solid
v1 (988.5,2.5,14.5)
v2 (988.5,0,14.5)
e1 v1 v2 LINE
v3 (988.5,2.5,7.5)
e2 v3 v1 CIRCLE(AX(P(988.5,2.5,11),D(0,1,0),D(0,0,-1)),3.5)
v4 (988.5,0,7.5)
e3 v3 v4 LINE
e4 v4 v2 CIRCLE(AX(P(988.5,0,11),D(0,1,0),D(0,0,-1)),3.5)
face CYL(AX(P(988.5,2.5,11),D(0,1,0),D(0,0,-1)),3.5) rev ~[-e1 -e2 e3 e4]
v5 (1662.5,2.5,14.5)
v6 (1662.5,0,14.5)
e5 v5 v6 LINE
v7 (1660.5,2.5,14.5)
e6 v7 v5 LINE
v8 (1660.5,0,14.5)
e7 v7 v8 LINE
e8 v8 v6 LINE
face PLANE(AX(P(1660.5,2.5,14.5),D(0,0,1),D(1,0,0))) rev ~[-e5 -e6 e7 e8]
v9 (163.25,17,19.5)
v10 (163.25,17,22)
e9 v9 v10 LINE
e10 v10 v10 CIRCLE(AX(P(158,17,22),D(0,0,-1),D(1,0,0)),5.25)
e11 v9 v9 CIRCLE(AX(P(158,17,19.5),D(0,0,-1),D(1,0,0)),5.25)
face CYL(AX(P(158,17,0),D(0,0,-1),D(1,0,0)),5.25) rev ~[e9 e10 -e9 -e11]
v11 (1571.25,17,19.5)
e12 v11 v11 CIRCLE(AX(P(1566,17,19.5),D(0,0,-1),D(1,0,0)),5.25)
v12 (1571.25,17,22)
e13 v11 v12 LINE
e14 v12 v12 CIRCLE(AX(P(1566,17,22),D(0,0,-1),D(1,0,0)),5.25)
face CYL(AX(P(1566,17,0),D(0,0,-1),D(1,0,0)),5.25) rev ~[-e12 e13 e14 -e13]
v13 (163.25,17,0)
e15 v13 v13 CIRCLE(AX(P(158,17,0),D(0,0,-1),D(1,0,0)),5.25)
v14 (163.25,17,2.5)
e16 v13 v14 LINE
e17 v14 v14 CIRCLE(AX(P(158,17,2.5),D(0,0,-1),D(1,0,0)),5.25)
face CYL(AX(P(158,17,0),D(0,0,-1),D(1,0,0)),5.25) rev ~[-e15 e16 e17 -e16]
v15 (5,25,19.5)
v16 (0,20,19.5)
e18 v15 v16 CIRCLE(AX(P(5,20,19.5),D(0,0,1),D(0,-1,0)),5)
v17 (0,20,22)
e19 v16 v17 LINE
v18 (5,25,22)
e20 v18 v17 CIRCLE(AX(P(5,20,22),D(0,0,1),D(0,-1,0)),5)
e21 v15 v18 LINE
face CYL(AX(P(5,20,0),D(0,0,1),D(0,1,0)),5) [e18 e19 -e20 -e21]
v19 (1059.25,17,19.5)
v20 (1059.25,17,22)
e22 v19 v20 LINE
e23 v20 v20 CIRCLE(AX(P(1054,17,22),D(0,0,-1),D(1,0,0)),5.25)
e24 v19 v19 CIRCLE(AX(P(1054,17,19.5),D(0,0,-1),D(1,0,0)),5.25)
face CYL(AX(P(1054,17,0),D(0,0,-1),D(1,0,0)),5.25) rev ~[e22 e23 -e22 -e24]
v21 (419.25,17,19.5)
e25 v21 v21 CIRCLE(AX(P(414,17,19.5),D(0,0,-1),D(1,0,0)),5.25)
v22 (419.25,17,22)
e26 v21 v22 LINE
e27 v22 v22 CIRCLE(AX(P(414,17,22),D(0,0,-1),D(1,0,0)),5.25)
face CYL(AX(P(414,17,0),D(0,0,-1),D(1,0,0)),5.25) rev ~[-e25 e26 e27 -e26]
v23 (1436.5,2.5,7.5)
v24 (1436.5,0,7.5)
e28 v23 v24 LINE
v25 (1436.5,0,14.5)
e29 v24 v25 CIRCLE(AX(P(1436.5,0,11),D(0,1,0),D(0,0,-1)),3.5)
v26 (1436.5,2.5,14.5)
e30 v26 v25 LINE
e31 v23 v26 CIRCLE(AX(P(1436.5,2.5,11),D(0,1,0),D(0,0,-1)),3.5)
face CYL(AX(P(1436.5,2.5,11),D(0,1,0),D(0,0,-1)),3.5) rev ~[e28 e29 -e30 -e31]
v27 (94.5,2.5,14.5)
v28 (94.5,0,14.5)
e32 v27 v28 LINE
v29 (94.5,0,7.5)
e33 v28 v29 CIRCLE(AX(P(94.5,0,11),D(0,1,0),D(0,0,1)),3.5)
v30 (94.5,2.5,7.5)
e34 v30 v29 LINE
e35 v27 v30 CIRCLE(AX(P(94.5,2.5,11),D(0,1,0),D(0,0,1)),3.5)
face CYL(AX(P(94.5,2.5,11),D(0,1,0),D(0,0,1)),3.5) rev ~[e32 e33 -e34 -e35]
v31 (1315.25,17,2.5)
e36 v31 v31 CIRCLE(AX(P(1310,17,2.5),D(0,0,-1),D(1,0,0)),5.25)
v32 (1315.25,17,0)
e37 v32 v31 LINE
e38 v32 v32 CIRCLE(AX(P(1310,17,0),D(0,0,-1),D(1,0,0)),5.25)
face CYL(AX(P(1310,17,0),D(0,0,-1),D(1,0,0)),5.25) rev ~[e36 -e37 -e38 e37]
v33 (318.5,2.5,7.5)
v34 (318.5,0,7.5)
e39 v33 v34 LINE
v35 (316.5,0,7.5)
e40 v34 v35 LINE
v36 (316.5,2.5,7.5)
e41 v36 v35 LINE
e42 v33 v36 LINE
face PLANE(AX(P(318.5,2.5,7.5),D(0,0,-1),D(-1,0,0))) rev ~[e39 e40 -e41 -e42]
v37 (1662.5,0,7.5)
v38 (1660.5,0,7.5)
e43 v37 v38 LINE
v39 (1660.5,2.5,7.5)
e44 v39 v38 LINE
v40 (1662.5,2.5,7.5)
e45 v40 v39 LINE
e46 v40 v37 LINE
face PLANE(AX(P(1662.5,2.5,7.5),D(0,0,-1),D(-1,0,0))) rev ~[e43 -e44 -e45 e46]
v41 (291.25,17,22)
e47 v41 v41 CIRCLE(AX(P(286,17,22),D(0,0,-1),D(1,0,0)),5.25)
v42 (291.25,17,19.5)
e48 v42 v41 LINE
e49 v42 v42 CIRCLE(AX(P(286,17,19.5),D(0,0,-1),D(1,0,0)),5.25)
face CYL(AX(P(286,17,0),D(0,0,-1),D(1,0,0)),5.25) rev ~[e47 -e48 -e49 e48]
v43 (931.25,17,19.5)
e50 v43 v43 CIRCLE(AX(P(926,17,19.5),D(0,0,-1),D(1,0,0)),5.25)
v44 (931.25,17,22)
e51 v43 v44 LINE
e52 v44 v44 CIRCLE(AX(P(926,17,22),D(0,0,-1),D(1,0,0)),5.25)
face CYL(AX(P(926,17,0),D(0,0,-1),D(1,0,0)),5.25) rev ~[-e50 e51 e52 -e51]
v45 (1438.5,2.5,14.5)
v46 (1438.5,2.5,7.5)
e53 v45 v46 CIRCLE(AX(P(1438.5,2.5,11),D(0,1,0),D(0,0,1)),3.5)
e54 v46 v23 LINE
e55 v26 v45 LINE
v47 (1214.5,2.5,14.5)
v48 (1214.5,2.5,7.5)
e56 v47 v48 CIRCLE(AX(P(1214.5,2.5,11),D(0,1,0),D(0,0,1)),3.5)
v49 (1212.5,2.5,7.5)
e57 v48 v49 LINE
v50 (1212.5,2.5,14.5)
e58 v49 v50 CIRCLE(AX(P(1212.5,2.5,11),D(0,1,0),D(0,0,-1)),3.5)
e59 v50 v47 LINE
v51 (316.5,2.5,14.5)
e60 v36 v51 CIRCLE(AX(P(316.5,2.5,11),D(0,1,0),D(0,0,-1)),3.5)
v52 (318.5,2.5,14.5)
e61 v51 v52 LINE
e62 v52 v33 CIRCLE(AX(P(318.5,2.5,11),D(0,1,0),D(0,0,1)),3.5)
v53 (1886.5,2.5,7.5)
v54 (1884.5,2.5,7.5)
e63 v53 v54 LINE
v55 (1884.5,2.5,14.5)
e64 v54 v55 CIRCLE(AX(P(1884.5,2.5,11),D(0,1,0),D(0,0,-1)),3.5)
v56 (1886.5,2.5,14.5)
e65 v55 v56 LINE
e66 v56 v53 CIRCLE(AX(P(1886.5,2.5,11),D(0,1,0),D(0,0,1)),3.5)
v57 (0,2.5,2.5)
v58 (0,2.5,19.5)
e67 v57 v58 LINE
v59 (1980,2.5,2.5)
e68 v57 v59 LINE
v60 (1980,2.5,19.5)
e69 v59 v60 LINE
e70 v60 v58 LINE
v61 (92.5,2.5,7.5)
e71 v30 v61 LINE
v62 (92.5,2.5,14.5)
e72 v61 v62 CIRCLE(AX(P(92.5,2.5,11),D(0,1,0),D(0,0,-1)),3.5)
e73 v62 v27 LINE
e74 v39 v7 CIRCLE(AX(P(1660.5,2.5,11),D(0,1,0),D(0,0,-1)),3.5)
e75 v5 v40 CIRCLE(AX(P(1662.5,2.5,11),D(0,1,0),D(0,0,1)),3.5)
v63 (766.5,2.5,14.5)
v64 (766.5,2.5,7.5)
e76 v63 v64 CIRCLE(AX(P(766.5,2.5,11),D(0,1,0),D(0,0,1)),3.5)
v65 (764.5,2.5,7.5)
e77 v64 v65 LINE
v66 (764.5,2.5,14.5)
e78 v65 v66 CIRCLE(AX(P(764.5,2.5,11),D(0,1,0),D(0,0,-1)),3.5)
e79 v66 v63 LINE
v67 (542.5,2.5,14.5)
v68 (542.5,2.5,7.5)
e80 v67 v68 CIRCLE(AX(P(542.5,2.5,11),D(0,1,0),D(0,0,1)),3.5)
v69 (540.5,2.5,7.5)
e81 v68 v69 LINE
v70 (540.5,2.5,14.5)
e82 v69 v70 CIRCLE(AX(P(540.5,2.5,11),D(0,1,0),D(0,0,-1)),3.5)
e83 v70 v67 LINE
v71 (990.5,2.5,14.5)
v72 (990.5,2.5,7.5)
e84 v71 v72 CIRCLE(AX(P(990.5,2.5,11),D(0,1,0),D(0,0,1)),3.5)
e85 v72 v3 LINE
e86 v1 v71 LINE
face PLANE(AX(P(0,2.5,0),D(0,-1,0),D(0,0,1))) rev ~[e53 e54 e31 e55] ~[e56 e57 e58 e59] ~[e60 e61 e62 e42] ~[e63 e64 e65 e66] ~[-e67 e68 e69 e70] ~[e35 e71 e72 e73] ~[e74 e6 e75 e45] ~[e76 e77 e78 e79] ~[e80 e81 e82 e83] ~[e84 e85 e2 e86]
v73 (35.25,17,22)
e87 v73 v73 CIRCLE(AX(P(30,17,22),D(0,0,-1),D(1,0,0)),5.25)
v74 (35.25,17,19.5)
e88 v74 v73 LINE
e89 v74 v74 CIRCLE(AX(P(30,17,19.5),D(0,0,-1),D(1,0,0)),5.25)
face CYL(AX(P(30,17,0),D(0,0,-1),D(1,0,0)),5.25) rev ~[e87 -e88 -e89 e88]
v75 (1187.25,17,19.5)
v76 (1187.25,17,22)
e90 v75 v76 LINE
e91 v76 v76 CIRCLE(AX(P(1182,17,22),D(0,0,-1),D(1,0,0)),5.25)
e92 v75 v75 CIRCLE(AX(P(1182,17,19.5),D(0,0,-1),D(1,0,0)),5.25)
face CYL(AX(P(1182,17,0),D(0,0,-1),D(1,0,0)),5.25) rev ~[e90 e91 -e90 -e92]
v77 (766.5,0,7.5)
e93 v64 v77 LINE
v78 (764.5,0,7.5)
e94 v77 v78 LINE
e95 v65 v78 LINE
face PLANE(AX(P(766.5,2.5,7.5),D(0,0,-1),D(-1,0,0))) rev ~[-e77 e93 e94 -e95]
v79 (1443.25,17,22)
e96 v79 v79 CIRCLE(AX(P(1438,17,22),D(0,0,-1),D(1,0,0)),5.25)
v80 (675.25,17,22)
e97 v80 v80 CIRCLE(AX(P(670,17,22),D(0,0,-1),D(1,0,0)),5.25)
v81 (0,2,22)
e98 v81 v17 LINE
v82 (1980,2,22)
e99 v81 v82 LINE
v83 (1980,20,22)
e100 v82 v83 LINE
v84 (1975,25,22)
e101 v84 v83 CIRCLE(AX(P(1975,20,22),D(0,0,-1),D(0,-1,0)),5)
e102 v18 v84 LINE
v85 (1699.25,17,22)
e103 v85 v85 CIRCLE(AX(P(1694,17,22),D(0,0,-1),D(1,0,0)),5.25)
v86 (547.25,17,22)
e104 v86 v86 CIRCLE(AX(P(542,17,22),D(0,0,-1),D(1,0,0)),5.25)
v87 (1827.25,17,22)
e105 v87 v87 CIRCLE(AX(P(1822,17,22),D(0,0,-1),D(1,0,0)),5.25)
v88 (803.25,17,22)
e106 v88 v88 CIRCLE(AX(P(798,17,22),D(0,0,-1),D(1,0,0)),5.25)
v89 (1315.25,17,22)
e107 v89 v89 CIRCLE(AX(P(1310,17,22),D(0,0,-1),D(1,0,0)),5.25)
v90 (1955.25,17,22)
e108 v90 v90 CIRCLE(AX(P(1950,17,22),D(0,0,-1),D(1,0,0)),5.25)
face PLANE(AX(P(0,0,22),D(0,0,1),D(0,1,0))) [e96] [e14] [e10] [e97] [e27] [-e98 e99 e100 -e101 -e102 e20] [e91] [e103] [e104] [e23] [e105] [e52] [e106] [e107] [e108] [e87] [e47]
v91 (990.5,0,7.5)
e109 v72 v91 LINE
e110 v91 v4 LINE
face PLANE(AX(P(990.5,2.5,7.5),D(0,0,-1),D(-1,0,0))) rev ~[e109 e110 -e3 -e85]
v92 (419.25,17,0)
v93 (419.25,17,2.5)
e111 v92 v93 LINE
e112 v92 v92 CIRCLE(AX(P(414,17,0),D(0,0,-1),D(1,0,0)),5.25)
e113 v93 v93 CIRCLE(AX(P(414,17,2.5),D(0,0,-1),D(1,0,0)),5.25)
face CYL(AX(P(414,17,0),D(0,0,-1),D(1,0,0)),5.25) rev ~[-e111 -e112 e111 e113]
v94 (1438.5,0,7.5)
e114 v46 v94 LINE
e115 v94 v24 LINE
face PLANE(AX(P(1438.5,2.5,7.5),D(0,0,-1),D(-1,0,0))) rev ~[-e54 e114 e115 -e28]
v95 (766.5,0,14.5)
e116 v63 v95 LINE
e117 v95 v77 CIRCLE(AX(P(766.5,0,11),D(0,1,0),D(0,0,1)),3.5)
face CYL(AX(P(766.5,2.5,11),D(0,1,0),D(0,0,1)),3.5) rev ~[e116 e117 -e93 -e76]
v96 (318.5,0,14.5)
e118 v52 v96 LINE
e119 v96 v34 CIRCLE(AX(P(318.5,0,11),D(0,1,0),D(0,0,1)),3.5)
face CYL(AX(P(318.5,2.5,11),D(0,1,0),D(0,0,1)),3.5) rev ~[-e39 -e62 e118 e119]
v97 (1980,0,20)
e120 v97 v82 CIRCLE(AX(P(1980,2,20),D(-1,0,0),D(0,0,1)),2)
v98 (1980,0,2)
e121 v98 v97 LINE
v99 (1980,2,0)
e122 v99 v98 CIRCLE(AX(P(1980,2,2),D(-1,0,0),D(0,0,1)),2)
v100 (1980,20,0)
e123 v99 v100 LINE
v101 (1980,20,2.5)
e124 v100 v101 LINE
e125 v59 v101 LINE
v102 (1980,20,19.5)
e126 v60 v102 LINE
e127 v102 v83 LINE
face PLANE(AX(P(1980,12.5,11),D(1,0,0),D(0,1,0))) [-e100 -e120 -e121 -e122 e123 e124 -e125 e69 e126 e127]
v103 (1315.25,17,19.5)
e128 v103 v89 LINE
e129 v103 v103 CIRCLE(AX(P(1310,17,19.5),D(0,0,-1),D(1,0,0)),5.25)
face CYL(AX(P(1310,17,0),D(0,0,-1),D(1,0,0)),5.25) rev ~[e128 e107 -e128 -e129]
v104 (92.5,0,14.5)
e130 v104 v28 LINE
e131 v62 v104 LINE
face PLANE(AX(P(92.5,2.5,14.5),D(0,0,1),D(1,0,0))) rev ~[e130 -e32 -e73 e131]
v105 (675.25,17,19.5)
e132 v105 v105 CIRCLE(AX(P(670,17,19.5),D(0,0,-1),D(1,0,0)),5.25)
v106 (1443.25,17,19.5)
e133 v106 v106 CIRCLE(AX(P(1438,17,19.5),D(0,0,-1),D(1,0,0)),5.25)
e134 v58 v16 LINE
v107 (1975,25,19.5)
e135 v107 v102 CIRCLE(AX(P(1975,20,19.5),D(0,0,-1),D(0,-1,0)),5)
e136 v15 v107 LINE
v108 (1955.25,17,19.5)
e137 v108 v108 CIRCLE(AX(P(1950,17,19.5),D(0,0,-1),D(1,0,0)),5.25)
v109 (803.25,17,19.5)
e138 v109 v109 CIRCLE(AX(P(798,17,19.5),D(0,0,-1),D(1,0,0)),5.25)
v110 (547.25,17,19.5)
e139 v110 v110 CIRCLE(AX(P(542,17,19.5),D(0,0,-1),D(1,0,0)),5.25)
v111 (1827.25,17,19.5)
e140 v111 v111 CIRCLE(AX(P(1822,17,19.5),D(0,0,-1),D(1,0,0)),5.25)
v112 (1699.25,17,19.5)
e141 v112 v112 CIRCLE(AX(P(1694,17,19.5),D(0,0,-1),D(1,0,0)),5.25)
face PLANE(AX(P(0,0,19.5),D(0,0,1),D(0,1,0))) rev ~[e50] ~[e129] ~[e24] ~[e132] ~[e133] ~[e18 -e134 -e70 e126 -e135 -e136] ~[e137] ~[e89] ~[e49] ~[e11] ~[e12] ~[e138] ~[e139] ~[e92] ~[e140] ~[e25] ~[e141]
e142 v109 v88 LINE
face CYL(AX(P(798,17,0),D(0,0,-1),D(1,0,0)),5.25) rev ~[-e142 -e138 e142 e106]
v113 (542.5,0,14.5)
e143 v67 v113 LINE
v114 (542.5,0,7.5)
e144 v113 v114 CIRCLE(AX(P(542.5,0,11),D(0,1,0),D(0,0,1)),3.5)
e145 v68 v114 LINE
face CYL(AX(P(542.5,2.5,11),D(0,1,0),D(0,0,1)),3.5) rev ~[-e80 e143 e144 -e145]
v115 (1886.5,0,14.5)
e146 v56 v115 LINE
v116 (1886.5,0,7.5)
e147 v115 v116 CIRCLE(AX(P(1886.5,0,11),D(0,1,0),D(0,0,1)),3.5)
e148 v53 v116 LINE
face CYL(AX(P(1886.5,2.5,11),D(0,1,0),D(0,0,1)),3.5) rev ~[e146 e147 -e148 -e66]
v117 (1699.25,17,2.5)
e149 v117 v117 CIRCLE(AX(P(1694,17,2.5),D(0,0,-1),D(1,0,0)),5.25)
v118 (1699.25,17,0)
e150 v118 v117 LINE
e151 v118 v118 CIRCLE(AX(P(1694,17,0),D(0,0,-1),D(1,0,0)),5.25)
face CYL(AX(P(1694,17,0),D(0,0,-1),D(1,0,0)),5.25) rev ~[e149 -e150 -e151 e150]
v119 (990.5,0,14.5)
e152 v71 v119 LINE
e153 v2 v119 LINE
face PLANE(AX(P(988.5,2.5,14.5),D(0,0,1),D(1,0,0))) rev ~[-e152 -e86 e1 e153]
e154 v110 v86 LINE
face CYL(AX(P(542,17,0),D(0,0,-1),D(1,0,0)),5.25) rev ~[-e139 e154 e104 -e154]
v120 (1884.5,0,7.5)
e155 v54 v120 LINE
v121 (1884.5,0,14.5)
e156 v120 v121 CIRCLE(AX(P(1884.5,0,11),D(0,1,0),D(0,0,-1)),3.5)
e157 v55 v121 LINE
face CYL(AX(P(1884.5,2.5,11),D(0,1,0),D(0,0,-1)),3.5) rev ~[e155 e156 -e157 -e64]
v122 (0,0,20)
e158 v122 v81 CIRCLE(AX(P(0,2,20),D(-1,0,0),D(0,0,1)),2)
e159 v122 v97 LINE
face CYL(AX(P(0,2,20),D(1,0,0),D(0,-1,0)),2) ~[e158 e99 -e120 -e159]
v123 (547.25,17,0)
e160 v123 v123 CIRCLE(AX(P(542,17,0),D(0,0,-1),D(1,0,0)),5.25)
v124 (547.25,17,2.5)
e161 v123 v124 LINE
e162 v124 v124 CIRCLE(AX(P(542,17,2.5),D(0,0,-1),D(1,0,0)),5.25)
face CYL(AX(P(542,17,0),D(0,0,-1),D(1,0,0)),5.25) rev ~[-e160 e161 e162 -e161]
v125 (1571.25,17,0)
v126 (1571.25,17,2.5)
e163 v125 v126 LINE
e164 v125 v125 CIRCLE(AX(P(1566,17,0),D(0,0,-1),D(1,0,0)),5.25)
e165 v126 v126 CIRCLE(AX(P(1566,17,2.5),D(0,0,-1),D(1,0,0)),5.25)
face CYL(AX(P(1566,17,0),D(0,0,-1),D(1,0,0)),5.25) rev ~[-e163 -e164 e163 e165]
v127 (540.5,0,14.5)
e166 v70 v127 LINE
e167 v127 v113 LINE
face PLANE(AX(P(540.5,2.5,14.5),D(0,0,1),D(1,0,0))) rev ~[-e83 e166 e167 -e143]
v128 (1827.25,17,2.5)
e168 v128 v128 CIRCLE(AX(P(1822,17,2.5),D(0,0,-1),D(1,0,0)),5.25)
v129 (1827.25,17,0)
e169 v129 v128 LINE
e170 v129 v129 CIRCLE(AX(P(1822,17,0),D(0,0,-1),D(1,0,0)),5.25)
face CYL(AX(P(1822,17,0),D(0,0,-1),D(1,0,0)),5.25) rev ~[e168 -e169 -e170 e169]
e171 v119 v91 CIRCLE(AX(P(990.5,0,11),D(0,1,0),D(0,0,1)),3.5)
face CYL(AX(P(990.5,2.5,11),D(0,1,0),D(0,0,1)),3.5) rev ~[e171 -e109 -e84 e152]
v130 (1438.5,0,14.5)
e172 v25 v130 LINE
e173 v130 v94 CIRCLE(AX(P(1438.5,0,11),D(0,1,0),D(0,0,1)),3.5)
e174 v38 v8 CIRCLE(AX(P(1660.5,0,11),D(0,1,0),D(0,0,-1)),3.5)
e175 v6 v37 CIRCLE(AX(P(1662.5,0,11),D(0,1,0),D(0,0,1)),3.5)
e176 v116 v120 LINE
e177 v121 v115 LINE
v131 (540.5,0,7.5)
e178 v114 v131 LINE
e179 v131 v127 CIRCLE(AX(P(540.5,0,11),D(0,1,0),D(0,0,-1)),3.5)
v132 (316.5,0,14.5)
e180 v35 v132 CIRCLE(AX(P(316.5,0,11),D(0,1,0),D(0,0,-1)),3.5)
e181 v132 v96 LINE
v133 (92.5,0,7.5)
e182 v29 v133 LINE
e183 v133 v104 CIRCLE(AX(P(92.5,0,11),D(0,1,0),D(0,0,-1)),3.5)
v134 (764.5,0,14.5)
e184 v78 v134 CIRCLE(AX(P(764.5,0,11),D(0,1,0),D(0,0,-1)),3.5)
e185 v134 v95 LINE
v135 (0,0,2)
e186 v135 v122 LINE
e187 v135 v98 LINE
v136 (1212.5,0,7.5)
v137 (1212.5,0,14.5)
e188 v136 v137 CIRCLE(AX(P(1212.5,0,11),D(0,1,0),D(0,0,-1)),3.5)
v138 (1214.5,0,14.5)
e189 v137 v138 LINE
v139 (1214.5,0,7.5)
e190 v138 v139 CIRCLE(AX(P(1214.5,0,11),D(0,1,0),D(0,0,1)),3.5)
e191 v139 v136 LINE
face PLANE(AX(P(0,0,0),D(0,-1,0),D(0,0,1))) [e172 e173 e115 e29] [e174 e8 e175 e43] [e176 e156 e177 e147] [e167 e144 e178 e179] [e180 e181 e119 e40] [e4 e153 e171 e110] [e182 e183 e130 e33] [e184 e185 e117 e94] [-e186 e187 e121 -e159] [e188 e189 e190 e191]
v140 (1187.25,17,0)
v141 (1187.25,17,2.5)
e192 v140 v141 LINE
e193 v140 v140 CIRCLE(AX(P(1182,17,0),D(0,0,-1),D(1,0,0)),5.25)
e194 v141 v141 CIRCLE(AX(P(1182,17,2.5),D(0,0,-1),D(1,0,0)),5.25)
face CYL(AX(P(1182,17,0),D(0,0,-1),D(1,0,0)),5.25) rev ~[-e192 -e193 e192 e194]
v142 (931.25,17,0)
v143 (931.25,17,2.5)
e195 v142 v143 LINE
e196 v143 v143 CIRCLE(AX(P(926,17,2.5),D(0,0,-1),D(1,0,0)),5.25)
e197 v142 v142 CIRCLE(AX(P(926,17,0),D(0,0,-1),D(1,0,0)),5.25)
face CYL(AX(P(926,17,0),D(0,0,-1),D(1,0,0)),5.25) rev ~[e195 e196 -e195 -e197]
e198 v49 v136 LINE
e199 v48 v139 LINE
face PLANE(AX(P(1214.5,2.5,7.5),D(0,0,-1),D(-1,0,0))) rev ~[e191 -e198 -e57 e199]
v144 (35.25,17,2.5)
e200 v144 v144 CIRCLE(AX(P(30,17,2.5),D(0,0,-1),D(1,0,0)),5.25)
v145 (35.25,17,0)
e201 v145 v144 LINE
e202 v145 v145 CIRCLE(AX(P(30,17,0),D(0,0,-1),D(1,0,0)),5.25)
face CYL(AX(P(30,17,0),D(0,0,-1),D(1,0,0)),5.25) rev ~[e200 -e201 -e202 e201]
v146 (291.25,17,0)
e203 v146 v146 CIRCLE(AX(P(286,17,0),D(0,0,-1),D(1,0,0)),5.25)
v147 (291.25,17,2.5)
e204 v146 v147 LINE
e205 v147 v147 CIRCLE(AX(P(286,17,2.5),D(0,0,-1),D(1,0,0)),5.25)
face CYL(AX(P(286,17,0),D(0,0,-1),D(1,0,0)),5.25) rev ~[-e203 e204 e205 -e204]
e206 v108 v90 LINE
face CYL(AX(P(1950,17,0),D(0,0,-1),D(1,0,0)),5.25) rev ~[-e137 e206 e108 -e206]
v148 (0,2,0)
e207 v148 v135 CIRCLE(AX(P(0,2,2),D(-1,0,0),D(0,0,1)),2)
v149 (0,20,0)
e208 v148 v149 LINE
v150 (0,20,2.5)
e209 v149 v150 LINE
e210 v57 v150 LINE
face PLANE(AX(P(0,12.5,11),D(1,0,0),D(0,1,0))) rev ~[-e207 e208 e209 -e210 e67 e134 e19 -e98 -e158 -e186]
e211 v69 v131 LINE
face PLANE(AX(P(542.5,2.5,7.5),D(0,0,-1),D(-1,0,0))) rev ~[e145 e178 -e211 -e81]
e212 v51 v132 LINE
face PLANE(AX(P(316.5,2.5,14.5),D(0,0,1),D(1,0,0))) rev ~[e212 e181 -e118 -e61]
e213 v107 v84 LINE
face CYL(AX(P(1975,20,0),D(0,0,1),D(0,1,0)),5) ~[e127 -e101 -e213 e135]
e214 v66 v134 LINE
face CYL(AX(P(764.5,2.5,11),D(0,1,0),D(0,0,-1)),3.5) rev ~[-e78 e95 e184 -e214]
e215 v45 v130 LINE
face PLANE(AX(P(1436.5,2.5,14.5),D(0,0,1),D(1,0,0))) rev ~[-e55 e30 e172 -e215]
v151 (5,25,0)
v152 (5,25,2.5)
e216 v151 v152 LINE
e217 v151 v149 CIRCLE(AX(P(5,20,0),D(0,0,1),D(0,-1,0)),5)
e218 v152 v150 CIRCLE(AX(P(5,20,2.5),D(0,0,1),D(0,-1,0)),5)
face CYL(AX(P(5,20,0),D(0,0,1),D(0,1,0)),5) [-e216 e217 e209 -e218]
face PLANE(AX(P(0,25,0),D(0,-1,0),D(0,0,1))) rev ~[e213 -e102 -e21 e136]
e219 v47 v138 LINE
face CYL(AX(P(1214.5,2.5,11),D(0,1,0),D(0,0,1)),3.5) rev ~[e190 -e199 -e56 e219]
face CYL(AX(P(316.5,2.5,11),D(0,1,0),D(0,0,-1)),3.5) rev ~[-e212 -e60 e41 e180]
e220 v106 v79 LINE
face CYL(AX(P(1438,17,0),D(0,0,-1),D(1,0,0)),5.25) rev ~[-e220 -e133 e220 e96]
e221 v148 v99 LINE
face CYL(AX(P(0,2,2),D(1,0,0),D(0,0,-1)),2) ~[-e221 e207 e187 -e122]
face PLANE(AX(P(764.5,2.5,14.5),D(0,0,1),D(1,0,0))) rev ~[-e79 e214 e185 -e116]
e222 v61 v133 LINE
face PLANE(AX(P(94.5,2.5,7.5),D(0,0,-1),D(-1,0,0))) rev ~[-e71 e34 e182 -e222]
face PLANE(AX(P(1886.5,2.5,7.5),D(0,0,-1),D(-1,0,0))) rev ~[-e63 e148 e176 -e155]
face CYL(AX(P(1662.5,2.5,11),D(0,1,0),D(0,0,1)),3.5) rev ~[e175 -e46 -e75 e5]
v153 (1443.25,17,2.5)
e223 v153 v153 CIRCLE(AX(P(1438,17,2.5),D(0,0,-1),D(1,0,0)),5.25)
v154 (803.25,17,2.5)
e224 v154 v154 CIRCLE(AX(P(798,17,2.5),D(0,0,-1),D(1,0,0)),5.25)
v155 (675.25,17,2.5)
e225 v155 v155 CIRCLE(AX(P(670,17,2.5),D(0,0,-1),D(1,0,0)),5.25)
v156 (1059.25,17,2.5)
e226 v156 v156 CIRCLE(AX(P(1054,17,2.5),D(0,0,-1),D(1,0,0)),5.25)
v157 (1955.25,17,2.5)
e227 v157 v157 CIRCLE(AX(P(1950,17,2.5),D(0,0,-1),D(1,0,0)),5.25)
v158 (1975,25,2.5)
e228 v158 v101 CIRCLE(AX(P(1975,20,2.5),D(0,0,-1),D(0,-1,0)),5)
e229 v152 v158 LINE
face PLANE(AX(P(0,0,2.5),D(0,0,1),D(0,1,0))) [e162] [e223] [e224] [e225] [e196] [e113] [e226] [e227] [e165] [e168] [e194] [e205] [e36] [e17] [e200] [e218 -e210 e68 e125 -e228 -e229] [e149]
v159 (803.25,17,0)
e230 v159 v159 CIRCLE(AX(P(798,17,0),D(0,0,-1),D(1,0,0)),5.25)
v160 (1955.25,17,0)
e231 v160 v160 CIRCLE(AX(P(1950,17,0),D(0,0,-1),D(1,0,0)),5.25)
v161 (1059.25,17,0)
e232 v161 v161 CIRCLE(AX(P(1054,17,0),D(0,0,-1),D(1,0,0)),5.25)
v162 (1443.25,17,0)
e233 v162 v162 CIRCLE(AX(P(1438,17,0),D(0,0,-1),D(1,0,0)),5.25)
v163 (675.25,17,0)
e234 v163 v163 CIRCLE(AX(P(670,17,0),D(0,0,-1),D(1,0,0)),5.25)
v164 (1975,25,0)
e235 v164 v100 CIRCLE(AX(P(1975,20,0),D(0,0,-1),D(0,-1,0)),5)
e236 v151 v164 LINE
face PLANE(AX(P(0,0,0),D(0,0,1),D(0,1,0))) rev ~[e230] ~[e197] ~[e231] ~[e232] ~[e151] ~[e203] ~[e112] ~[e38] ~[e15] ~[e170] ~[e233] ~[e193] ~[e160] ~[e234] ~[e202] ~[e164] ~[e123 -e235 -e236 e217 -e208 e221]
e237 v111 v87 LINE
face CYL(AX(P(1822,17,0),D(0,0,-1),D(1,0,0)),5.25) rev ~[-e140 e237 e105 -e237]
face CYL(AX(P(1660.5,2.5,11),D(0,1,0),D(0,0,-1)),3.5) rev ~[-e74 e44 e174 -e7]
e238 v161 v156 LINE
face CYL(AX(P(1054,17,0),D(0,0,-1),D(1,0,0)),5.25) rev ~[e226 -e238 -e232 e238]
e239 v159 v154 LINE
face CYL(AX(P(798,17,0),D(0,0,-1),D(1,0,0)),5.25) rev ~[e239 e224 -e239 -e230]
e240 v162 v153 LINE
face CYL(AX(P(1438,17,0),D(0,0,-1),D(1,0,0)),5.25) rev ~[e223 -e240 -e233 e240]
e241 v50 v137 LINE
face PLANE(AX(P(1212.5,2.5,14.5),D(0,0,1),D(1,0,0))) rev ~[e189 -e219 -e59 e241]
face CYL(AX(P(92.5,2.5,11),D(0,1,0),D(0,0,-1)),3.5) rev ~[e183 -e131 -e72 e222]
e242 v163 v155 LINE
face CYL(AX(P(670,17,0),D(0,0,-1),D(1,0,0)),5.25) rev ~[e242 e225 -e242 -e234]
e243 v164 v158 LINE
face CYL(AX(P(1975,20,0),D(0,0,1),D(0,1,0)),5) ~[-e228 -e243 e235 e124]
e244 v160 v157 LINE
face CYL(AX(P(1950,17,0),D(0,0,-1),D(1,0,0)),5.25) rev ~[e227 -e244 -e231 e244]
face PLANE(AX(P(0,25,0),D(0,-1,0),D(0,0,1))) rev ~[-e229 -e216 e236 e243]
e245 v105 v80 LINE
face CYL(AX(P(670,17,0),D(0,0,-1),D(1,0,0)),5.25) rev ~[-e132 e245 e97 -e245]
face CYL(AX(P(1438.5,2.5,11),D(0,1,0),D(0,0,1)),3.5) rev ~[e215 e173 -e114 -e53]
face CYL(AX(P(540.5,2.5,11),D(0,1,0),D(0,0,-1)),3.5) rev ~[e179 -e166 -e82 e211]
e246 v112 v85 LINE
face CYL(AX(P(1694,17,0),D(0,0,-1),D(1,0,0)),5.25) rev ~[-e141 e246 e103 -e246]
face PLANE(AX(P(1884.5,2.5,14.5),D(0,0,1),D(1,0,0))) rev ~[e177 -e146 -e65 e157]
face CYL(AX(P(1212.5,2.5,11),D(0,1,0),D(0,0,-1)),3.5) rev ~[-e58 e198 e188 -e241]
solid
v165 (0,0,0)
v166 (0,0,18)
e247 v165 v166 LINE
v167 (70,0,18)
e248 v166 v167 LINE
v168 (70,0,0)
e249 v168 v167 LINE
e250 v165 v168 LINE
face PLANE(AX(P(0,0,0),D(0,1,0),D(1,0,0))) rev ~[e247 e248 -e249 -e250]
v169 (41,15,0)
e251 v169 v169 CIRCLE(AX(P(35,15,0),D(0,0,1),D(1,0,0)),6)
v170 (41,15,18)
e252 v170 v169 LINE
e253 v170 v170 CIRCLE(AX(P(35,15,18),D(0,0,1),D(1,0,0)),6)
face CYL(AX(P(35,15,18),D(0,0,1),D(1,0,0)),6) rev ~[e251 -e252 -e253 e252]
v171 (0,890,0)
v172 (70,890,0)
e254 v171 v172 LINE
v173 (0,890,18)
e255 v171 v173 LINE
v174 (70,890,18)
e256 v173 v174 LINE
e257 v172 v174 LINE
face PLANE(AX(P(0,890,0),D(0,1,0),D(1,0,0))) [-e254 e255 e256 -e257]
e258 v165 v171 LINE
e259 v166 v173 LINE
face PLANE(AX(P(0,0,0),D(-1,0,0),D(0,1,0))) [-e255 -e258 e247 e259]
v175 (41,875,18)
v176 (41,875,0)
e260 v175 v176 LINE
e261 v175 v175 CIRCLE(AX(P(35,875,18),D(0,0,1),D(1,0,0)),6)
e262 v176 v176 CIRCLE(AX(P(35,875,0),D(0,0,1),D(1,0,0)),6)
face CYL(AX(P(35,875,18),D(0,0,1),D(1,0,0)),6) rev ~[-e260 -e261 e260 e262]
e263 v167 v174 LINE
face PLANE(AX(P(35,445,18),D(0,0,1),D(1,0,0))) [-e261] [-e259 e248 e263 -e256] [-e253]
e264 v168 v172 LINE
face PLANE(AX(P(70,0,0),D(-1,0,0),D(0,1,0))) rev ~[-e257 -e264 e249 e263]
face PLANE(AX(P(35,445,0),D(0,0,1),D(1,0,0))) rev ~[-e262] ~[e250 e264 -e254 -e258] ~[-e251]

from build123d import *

# Parameters (mm, degrees)
F0_W      = 70
F0_H      = 890
F1_DEPTH  = 18
F2_R      = 6
F3_DEPTH  = 18
F4_W      = 25
F4_H      = 22
F5_DEPTH  = 1980
F6_R      = 5
F7_R      = 2
F8_T      = -2.5
F9_R      = 5.25
F10_DEPTH = 22.001
F12_DEPTH = 2.5


with BuildPart() as f1:
    # F0 (on Top) → F1 (new body)
    with BuildSketch(Plane.XY):
        with Locations((35, 445)):
            Rectangle(F0_W, F0_H)
    extrude(amount=F1_DEPTH)

    # F2 (on face) → F3 (cut, through all)
    with BuildSketch(Plane.XY.offset(18)):
        with Locations((35, 875)):
            Circle(F2_R)
        with Locations((35, 15)):
            Circle(F2_R)
    extrude(amount=-F3_DEPTH, mode=Mode.SUBTRACT)


with BuildPart() as f5:
    # F4 (on Right) → F5 (new body)
    with BuildSketch(Plane.YZ):
        with Locations((12.5, 11)):
            Rectangle(F4_W, F4_H)
    extrude(amount=F5_DEPTH)

    # F6
    f6_edges = [f5.edges().sort_by_distance(p)[0] for p in [
        (0, 25, 11),
        (1980, 25, 11),
    ]]
    fillet(f6_edges, radius=F6_R)

    # F7
    f7_edges = [f5.edges().sort_by_distance(p)[0] for p in [
        (990, 0, 22),
        (990, 0, 0),
    ]]
    fillet(f7_edges, radius=F7_R)

    # F8
    f8_openings = [f5.faces().sort_by_distance(p)[0] for p in [
        (990, 25, 11),
        (1.464466, 23.535534, 11),
        (0, 10.037421, 11),
        (1978.535534, 23.535534, 11),
        (1980, 10.037421, 11),
    ]]
    offset(amount=F8_T, openings=f8_openings)

    # F9 (on face) → F10 (cut, through all)
    with BuildSketch(Plane(origin=(0, 0, 0), x_dir=(1, 0, 0), z_dir=(0, 0, -1))):
        with Locations((1950, -17)):
            Circle(F9_R)
        with Locations((1822, -17)):
            Circle(F9_R)
        with Locations((1694, -17)):
            Circle(F9_R)
        with Locations((1566, -17)):
            Circle(F9_R)
        with Locations((1438, -17)):
            Circle(F9_R)
        with Locations((1310, -17)):
            Circle(F9_R)
        with Locations((1182, -17)):
            Circle(F9_R)
        with Locations((1054, -17)):
            Circle(F9_R)
        with Locations((926, -17)):
            Circle(F9_R)
        with Locations((798, -17)):
            Circle(F9_R)
        with Locations((670, -17)):
            Circle(F9_R)
        with Locations((542, -17)):
            Circle(F9_R)
        with Locations((414, -17)):
            Circle(F9_R)
        with Locations((286, -17)):
            Circle(F9_R)
        with Locations((158, -17)):
            Circle(F9_R)
        with Locations((30, -17)):
            Circle(F9_R)
    extrude(amount=-F10_DEPTH, mode=Mode.SUBTRACT)

    # F11 (on face) → F12 (cut, through all)
    with BuildSketch(Plane(origin=(0, 2.5, 0), x_dir=(-1, 0, 0), z_dir=(0, 1, 0))):
        with BuildLine():
            ThreePointArc((-1884.5, 7.5), (-1881, 11), (-1884.5, 14.5))
            Line((-1884.5, 14.5), (-1886.5, 14.5))
            ThreePointArc((-1886.5, 14.5), (-1890, 11), (-1886.5, 7.5))
            Line((-1886.5, 7.5), (-1884.5, 7.5))
        make_face()
        with BuildLine():
            ThreePointArc((-1660.5, 7.5), (-1657, 11), (-1660.5, 14.5))
            Line((-1660.5, 14.5), (-1662.5, 14.5))
            ThreePointArc((-1662.5, 14.5), (-1666, 11), (-1662.5, 7.5))
            Line((-1662.5, 7.5), (-1660.5, 7.5))
        make_face()
        with BuildLine():
            ThreePointArc((-1436.5, 7.5), (-1433, 11), (-1436.5, 14.5))
            Line((-1436.5, 14.5), (-1438.5, 14.5))
            ThreePointArc((-1438.5, 14.5), (-1442, 11), (-1438.5, 7.5))
            Line((-1438.5, 7.5), (-1436.5, 7.5))
        make_face()
        with BuildLine():
            ThreePointArc((-1212.5, 7.5), (-1209, 11), (-1212.5, 14.5))
            Line((-1212.5, 14.5), (-1214.5, 14.5))
            ThreePointArc((-1214.5, 14.5), (-1218, 11), (-1214.5, 7.5))
            Line((-1214.5, 7.5), (-1212.5, 7.5))
        make_face()
        with BuildLine():
            ThreePointArc((-988.5, 7.5), (-985, 11), (-988.5, 14.5))
            Line((-988.5, 14.5), (-990.5, 14.5))
            ThreePointArc((-990.5, 14.5), (-994, 11), (-990.5, 7.5))
            Line((-990.5, 7.5), (-988.5, 7.5))
        make_face()
        with BuildLine():
            ThreePointArc((-764.5, 7.5), (-761, 11), (-764.5, 14.5))
            Line((-764.5, 14.5), (-766.5, 14.5))
            ThreePointArc((-766.5, 14.5), (-770, 11), (-766.5, 7.5))
            Line((-766.5, 7.5), (-764.5, 7.5))
        make_face()
        with BuildLine():
            ThreePointArc((-540.5, 7.5), (-537, 11), (-540.5, 14.5))
            Line((-540.5, 14.5), (-542.5, 14.5))
            ThreePointArc((-542.5, 14.5), (-546, 11), (-542.5, 7.5))
            Line((-542.5, 7.5), (-540.5, 7.5))
        make_face()
        with BuildLine():
            ThreePointArc((-316.5, 7.5), (-313, 11), (-316.5, 14.5))
            Line((-316.5, 14.5), (-318.5, 14.5))
            ThreePointArc((-318.5, 14.5), (-322, 11), (-318.5, 7.5))
            Line((-318.5, 7.5), (-316.5, 7.5))
        make_face()
        with BuildLine():
            ThreePointArc((-92.5, 7.5), (-89, 11), (-92.5, 14.5))
            Line((-92.5, 14.5), (-94.5, 14.5))
            ThreePointArc((-94.5, 14.5), (-98, 11), (-94.5, 7.5))
            Line((-94.5, 7.5), (-92.5, 7.5))
        make_face()
    extrude(amount=-F12_DEPTH, mode=Mode.SUBTRACT)


solid = Compound([f1.part, f5.part])
